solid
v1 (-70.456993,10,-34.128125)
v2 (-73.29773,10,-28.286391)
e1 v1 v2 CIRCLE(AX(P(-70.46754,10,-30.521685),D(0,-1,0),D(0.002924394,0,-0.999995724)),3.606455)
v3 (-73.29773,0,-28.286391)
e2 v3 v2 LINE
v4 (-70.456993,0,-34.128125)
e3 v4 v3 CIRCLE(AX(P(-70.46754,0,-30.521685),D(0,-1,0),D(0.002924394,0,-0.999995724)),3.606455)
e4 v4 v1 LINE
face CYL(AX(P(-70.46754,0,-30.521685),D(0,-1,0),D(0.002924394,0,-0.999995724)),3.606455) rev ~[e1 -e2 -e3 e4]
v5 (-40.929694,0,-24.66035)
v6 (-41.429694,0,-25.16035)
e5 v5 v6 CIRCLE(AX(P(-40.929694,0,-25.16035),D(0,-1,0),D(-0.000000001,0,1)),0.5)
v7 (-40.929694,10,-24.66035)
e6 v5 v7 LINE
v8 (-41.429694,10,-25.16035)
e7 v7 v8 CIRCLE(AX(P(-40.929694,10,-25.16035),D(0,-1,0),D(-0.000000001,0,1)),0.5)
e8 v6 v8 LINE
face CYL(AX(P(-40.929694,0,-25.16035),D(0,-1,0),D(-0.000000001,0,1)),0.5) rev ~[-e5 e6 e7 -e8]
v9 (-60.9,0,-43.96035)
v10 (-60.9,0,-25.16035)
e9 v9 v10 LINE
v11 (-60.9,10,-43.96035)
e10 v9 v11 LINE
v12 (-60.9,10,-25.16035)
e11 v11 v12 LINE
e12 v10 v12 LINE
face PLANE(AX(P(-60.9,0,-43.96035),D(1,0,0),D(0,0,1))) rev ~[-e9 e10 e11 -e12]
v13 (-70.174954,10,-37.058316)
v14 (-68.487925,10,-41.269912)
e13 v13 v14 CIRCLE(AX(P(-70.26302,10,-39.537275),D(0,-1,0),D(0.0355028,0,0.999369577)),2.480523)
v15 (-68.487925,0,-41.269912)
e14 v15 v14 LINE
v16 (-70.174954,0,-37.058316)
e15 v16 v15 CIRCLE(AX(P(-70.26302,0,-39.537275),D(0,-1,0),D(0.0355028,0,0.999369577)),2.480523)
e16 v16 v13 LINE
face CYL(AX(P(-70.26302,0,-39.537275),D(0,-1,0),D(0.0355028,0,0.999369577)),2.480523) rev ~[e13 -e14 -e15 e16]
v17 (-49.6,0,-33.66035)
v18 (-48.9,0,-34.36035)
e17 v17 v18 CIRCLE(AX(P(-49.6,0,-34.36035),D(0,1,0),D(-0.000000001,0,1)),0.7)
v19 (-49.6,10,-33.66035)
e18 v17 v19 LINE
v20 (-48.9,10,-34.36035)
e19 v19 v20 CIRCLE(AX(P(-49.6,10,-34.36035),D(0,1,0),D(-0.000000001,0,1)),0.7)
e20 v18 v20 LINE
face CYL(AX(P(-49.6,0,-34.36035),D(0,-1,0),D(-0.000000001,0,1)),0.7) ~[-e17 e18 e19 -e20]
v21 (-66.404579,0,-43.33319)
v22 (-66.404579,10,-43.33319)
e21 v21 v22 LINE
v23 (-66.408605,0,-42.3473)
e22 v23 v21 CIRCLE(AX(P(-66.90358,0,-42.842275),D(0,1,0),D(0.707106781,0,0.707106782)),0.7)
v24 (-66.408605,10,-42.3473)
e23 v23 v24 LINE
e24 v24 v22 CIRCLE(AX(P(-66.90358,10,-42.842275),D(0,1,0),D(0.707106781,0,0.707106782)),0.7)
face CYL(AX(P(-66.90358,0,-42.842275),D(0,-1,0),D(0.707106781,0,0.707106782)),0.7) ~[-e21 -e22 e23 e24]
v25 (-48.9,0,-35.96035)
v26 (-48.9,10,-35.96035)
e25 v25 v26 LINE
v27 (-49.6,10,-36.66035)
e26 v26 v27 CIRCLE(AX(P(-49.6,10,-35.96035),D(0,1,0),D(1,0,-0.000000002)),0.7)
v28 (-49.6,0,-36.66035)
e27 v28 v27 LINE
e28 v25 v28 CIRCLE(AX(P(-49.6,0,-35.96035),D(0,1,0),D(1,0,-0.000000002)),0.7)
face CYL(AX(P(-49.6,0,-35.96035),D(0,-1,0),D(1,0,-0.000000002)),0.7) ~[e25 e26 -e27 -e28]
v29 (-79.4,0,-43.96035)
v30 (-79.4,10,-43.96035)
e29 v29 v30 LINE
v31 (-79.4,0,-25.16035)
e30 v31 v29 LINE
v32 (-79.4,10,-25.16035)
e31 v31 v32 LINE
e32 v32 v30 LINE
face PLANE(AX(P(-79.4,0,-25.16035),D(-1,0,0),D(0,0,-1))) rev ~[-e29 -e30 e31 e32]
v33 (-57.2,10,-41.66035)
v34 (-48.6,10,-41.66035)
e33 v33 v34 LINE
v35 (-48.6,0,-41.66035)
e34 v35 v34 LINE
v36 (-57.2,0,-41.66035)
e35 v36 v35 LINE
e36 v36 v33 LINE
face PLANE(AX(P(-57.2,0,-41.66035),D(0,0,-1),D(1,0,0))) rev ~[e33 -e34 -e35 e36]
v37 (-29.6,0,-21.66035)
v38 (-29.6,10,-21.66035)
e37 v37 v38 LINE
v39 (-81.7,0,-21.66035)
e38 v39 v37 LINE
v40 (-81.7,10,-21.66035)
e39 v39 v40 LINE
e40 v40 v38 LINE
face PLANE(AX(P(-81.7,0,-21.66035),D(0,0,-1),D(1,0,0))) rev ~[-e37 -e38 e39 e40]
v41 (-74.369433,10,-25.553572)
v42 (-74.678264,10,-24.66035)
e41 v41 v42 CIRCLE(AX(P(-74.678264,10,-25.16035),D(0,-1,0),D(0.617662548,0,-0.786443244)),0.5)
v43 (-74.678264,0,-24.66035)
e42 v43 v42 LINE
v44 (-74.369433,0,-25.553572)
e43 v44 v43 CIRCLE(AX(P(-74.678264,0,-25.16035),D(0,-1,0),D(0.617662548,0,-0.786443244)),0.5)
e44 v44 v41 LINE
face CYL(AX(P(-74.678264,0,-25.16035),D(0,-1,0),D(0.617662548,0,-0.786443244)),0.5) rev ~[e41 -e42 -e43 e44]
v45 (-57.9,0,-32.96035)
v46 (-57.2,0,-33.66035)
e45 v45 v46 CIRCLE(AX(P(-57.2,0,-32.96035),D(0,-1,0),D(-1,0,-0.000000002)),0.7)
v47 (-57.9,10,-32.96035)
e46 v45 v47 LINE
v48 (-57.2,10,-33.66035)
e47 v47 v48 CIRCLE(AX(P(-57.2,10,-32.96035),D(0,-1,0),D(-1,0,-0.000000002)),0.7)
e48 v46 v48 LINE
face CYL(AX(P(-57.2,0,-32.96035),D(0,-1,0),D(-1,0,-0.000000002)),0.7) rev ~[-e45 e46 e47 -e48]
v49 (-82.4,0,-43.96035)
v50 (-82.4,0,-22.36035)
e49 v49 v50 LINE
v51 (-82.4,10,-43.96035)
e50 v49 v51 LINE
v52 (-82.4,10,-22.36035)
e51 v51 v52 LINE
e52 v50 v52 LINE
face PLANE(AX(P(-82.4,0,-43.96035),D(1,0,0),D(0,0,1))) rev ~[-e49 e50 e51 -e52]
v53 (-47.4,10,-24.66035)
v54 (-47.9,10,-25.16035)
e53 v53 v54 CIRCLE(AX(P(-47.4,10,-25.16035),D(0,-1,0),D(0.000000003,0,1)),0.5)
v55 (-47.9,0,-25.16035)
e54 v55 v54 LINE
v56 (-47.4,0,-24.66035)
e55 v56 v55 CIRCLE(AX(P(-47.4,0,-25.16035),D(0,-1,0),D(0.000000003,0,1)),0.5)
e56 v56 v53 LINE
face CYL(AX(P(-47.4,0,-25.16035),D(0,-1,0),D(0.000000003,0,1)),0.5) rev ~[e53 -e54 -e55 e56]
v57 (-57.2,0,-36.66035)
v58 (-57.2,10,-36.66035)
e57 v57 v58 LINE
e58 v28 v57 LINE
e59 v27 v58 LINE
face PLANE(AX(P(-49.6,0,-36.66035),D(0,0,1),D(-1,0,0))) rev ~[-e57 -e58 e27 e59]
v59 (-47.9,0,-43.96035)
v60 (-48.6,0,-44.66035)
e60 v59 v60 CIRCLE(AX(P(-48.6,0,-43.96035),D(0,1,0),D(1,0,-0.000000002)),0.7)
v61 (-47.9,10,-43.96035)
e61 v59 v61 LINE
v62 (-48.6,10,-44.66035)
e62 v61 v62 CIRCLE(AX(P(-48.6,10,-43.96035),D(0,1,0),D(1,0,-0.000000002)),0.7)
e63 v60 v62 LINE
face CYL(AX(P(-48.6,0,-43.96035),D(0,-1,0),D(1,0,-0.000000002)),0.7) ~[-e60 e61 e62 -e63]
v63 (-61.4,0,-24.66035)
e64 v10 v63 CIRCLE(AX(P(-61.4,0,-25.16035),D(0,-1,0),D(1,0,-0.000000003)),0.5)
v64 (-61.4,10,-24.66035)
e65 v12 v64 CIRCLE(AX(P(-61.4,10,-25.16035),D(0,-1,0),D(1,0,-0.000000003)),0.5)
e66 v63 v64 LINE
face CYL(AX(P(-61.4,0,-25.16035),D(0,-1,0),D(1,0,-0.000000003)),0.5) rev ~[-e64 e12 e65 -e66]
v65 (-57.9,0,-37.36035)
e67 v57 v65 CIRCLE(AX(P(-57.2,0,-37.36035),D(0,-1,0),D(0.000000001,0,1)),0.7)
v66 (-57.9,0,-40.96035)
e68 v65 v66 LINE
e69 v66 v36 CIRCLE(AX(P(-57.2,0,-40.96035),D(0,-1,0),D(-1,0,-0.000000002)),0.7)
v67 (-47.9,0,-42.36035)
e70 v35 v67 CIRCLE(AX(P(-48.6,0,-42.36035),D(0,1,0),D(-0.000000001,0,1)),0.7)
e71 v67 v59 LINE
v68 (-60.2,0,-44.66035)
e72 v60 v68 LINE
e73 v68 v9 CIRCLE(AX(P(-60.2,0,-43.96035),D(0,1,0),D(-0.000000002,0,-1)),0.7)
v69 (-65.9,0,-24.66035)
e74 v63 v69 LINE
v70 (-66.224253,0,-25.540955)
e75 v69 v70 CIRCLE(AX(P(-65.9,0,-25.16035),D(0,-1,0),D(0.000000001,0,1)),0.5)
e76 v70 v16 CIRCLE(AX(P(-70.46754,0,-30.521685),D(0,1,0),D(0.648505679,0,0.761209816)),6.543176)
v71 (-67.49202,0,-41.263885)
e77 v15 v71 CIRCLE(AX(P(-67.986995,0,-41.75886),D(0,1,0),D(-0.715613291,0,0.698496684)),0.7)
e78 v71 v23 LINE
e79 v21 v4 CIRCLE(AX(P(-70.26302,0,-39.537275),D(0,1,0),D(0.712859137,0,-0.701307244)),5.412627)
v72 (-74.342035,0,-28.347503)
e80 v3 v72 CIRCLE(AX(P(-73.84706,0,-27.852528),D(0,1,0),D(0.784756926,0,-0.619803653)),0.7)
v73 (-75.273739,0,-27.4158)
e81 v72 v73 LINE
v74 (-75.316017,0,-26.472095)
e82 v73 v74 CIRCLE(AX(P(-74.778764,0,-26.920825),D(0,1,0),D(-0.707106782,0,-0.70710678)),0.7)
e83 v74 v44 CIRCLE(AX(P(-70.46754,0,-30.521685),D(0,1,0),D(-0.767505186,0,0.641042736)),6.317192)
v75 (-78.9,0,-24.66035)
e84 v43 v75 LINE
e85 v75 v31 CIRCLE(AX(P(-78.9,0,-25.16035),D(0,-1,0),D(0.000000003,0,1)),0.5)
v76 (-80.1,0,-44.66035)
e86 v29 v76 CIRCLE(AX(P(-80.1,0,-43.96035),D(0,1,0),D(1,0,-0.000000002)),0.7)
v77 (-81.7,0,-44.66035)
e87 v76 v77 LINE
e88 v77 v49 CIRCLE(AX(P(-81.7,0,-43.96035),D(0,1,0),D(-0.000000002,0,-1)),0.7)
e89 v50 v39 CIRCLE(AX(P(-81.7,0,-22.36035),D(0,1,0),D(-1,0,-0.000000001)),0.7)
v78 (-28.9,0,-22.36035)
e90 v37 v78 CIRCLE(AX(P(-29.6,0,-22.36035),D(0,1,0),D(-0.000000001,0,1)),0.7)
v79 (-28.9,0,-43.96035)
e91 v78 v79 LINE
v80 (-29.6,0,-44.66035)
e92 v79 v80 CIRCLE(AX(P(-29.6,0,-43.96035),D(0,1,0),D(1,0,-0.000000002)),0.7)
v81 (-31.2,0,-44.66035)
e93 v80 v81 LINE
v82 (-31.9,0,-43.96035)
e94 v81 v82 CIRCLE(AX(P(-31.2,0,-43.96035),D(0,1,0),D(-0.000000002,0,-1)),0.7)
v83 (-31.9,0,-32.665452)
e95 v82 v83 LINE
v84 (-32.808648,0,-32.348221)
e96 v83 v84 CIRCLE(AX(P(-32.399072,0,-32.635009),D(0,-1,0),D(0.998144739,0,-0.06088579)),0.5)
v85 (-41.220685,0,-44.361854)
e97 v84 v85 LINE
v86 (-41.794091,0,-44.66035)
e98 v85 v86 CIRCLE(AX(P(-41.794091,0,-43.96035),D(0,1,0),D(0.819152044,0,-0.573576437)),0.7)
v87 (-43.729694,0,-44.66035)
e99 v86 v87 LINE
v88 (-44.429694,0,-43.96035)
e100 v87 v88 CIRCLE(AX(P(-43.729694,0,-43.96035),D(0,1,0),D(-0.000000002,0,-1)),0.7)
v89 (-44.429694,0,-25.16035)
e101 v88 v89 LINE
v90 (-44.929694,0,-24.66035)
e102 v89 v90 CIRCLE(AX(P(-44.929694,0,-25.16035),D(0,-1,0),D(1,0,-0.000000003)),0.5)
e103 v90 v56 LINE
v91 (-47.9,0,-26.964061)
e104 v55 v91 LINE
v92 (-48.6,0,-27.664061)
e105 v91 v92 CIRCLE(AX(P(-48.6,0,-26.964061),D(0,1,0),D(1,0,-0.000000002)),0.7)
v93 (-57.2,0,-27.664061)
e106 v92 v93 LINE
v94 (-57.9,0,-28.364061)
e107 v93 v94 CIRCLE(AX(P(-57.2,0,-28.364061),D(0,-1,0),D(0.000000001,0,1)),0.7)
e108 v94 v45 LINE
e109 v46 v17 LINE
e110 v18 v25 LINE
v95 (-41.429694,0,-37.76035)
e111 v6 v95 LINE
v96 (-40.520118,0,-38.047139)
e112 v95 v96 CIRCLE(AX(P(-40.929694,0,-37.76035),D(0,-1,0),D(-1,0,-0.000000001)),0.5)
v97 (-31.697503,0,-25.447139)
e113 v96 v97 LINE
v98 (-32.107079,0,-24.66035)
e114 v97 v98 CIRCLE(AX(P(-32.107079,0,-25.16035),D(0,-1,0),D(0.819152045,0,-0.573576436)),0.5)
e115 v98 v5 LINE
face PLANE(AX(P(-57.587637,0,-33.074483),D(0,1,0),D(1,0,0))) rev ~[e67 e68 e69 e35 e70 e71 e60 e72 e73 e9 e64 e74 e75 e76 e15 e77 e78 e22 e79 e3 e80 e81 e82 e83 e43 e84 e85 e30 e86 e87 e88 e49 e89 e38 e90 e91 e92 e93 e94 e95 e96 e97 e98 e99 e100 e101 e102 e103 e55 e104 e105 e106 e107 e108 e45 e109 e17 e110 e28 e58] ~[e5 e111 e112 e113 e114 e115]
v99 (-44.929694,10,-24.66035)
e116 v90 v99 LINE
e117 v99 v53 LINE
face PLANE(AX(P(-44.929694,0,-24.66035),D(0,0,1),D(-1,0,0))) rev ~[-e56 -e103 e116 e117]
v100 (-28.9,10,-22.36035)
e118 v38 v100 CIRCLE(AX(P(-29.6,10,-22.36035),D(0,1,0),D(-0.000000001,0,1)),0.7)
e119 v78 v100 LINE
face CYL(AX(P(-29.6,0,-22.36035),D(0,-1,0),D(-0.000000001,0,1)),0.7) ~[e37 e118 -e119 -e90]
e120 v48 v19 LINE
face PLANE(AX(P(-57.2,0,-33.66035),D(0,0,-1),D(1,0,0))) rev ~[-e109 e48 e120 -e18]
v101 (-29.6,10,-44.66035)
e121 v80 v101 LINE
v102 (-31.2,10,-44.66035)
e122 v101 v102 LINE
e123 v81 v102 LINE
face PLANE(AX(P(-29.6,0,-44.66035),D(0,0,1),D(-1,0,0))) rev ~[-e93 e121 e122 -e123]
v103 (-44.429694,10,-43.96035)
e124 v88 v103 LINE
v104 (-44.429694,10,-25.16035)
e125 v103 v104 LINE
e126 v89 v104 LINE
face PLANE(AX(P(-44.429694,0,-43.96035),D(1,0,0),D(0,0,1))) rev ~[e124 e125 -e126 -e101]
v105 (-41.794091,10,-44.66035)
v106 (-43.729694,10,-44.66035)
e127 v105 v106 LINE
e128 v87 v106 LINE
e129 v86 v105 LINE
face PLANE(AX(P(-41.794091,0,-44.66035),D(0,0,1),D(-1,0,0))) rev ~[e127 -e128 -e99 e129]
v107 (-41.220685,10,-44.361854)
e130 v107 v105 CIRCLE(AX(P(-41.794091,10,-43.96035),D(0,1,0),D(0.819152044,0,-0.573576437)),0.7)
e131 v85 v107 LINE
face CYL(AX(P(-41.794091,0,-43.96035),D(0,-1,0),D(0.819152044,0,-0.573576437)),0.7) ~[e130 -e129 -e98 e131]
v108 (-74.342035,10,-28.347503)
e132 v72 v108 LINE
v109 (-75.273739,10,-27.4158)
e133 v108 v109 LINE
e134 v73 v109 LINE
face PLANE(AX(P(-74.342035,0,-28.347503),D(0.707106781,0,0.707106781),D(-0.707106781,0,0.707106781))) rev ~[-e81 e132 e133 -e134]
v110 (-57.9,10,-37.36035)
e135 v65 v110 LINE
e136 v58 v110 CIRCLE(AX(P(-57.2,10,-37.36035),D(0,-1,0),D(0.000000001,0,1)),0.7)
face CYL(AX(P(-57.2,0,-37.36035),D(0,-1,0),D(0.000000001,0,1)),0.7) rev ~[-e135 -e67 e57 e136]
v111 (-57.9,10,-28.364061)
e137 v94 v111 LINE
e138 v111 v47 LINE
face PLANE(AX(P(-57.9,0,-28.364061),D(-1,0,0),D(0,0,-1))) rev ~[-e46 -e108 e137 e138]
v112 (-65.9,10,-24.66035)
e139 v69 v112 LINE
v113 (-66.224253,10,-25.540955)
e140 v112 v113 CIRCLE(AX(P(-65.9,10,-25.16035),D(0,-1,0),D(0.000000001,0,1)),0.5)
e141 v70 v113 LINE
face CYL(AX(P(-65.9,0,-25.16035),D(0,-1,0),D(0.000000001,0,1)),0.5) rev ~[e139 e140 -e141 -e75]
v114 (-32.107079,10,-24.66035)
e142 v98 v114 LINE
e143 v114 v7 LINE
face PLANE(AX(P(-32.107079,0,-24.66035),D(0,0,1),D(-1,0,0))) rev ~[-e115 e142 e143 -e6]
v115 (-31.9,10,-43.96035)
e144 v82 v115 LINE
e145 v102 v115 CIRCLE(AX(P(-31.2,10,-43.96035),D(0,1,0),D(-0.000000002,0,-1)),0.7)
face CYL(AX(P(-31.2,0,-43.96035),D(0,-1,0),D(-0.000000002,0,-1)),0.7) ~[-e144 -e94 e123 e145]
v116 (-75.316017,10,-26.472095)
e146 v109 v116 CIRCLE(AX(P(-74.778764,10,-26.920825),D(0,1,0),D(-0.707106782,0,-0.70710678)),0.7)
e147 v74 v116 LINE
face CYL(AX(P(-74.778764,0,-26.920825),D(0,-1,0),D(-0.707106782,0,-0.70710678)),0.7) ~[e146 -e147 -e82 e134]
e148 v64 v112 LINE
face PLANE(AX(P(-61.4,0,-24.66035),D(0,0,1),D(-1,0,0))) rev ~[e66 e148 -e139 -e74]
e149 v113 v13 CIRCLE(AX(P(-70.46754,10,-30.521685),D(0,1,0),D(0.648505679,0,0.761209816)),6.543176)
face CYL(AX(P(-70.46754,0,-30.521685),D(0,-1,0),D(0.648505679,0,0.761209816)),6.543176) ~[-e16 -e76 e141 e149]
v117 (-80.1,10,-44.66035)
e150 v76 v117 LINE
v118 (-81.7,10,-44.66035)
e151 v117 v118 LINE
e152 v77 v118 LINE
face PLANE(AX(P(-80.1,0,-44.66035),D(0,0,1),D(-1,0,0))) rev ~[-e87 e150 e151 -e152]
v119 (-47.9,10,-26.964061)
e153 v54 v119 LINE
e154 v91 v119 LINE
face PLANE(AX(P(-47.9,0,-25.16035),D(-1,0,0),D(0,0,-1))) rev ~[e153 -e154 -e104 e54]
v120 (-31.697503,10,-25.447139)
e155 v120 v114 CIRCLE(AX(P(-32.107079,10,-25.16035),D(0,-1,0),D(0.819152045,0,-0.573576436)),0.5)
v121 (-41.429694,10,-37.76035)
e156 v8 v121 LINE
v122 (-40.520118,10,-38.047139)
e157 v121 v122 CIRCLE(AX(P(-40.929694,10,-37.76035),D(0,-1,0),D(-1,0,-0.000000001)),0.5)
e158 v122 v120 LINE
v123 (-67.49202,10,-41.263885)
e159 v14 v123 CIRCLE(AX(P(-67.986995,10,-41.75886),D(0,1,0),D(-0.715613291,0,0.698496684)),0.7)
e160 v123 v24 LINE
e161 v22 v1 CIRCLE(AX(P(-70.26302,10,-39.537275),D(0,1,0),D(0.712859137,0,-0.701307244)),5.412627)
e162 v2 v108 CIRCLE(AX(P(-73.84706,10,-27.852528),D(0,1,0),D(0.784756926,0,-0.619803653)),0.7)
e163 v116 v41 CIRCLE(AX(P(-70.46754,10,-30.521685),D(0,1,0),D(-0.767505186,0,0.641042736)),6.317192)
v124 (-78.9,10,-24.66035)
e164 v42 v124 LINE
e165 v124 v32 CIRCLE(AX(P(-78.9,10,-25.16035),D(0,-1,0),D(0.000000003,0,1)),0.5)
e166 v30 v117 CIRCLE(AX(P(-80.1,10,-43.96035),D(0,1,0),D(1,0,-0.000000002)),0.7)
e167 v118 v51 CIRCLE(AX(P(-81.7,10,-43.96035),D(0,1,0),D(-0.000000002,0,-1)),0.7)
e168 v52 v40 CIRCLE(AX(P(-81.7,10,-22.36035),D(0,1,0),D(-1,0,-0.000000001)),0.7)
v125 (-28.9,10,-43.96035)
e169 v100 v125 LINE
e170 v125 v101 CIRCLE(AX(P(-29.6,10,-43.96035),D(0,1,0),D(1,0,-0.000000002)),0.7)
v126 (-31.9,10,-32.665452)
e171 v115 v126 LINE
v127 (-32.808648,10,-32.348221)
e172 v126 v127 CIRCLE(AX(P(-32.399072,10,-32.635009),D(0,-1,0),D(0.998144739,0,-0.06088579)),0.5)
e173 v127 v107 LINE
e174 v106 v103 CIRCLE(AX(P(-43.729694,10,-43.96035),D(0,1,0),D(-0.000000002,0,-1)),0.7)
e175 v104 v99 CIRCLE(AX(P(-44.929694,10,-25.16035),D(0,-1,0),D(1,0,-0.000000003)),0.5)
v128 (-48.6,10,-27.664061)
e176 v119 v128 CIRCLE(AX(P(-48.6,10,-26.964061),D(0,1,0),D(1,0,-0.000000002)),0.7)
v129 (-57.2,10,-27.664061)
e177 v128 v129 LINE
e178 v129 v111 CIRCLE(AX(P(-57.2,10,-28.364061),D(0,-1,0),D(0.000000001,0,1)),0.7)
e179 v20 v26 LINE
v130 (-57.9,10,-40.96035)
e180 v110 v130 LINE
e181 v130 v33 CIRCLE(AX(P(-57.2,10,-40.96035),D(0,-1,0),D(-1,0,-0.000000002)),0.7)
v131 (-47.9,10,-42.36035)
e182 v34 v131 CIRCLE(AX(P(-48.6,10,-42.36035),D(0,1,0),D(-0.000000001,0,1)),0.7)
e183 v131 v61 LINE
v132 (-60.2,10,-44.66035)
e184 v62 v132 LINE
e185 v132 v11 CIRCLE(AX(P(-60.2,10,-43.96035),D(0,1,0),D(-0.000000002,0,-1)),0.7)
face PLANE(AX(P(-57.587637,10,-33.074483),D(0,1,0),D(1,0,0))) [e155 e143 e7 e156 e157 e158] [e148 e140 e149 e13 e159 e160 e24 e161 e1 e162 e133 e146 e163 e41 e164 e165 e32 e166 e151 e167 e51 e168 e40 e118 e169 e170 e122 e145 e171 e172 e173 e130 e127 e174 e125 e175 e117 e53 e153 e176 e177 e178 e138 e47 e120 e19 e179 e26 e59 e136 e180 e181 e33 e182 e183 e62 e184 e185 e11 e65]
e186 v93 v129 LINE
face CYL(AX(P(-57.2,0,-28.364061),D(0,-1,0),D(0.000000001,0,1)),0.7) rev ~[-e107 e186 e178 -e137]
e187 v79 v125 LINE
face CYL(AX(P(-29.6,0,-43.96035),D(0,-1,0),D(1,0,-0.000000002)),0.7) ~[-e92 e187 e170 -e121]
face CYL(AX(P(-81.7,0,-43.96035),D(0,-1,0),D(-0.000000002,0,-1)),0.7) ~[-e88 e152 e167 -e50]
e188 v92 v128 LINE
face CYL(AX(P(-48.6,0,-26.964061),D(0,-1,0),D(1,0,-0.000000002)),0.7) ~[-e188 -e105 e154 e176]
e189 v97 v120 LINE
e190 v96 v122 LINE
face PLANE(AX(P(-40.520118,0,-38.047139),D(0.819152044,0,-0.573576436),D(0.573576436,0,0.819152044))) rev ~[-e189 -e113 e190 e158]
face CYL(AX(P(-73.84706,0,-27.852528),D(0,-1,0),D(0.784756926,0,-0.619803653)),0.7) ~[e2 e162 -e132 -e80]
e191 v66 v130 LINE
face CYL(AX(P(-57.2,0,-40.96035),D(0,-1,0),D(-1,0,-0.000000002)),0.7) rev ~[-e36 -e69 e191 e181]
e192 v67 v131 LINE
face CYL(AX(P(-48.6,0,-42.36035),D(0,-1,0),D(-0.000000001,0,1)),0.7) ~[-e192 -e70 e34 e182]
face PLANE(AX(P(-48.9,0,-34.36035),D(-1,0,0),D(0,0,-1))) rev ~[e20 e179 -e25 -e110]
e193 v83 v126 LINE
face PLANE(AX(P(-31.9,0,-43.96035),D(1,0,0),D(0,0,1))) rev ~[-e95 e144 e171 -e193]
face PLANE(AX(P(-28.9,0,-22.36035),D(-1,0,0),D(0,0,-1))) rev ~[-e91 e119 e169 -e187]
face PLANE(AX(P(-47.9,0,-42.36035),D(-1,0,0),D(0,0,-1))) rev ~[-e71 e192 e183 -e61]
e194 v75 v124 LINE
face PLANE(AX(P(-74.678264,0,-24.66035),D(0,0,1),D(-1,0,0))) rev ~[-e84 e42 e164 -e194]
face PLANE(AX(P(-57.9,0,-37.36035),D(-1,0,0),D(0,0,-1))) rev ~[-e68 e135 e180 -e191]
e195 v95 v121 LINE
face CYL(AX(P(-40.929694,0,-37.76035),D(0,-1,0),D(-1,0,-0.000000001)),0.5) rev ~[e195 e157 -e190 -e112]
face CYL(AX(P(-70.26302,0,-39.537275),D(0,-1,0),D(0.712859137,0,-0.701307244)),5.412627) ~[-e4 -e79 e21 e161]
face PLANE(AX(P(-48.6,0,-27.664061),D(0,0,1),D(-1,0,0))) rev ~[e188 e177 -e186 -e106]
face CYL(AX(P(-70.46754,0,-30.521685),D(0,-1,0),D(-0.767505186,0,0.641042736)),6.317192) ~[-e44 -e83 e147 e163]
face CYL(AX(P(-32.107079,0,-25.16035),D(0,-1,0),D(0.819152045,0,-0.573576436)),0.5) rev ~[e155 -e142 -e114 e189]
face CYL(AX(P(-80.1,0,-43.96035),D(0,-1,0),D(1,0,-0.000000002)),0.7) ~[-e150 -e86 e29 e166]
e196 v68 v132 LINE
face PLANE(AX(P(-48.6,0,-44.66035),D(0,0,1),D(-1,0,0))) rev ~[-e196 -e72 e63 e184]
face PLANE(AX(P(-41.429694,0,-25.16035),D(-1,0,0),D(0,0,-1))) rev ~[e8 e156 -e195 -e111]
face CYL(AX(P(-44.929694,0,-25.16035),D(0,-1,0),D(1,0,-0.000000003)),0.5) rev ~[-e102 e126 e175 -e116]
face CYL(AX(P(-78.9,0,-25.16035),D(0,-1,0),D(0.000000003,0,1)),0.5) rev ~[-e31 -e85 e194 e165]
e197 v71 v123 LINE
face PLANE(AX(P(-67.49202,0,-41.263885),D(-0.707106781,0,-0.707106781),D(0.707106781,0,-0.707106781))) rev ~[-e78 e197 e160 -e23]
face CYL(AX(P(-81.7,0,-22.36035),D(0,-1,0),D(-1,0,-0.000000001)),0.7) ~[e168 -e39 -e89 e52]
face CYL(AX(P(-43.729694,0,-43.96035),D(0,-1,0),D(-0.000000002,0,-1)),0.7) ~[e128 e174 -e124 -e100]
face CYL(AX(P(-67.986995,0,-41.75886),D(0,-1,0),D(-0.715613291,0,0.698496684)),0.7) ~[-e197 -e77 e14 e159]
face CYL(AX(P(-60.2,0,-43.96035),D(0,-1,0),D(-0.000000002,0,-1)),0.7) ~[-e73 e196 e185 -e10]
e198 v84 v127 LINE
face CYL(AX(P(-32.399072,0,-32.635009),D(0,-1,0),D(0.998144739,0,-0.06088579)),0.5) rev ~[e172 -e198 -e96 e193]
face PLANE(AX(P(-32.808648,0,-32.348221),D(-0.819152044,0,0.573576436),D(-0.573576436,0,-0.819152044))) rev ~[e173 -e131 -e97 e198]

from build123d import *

# Parameters (mm, degrees)
BOSS_EXTRU_1_DEPTH = 10


with BuildPart() as part:
    # Esquisse3 → Boss.-Extru.1 (new body)
    with BuildSketch(Plane(origin=(0, 0, 0), x_dir=(1, 0, 0), z_dir=(0, 1, 0))):
        with BuildLine():
            Line((-82.4, 43.960350299), (-82.4, 24.660350299))
            Line((-82.4, 24.660350299), (-82.4, 22.360350299))
            ThreePointArc((-82.4, 22.360350299), (-82.194974747, 21.865375552), (-81.7, 21.660350299))
            Line((-81.7, 21.660350299), (-29.6, 21.660350299))
            ThreePointArc((-29.6, 21.660350299), (-29.105025253, 21.865375552), (-28.9, 22.360350299))
            Line((-28.9, 22.360350299), (-28.9, 24.660350299))
            Line((-28.9, 24.660350299), (-28.9, 43.960350299))
            ThreePointArc((-28.9, 43.960350299), (-29.105025253, 44.455325045), (-29.6, 44.660350299))
            Line((-29.6, 44.660350299), (-31.2, 44.660350299))
            ThreePointArc((-31.2, 44.660350299), (-31.694974747, 44.455325045), (-31.9, 43.960350299))
            Line((-31.9, 43.960350299), (-31.9, 32.665451753))
            ThreePointArc((-31.9, 32.665451753), (-32.234265531, 32.16295091), (-32.808648392, 32.348220639))
            Line((-32.808648392, 32.348220639), (-41.220684895, 44.361853804))
            ThreePointArc((-41.220684895, 44.361853804), (-41.470867297, 44.581257882), (-41.794091326, 44.660350299))
            Line((-41.794091326, 44.660350299), (-43.729694391, 44.660350299))
            ThreePointArc((-43.729694391, 44.660350299), (-44.224669138, 44.455325045), (-44.429694391, 43.960350299))
            Line((-44.429694391, 43.960350299), (-44.429694391, 25.160350299))
            ThreePointArc((-44.429694391, 25.160350299), (-44.576141, 24.806796908), (-44.929694391, 24.660350299))
            Line((-44.929694391, 24.660350299), (-47.4, 24.660350299))
            ThreePointArc((-47.4, 24.660350299), (-47.753553391, 24.806796908), (-47.9, 25.160350299))
            Line((-47.9, 25.160350299), (-47.9, 26.96406145))
            ThreePointArc((-47.9, 26.96406145), (-48.105025253, 27.459036196), (-48.6, 27.66406145))
            Line((-48.6, 27.66406145), (-57.2, 27.66406145))
            ThreePointArc((-57.2, 27.66406145), (-57.694974747, 27.869086703), (-57.9, 28.36406145))
            Line((-57.9, 28.36406145), (-57.9, 32.960350299))
            ThreePointArc((-57.9, 32.960350299), (-57.694974747, 33.455325045), (-57.2, 33.660350299))
            Line((-57.2, 33.660350299), (-49.6, 33.660350299))
            ThreePointArc((-49.6, 33.660350299), (-49.105025253, 33.865375552), (-48.9, 34.360350299))
            Line((-48.9, 34.360350299), (-48.9, 35.960350299))
            ThreePointArc((-48.9, 35.960350299), (-49.105025253, 36.455325045), (-49.6, 36.660350299))
            Line((-49.6, 36.660350299), (-57.2, 36.660350299))
            ThreePointArc((-57.2, 36.660350299), (-57.694974747, 36.865375552), (-57.9, 37.360350299))
            Line((-57.9, 37.360350299), (-57.9, 40.960350299))
            ThreePointArc((-57.9, 40.960350299), (-57.694974747, 41.455325045), (-57.2, 41.660350299))
            Line((-57.2, 41.660350299), (-48.6, 41.660350299))
            ThreePointArc((-48.6, 41.660350299), (-48.105025253, 41.865375552), (-47.9, 42.360350299))
            Line((-47.9, 42.360350299), (-47.9, 43.960350299))
            ThreePointArc((-47.9, 43.960350299), (-48.105025253, 44.455325045), (-48.6, 44.660350299))
            Line((-48.6, 44.660350299), (-60.2, 44.660350299))
            ThreePointArc((-60.2, 44.660350299), (-60.694974747, 44.455325045), (-60.9, 43.960350299))
            Line((-60.9, 43.960350299), (-60.9, 25.160350299))
            ThreePointArc((-60.9, 25.160350299), (-61.046446609, 24.806796908), (-61.4, 24.660350299))
            Line((-61.4, 24.660350299), (-65.9, 24.660350299))
            ThreePointArc((-65.9, 24.660350299), (-66.369202757, 24.987582324), (-66.224252839, 25.540955207))
            ThreePointArc((-66.224252839, 25.540955207), (-64.278360769, 32.64470583), (-70.174954097, 37.058316142))
            ThreePointArc((-70.174954097, 37.058316142), (-72.565676109, 40.459645131), (-68.487924516, 41.269912109))
            ThreePointArc((-68.487924516, 41.269912109), (-67.991231434, 41.058872606), (-67.492020465, 41.26388504))
            Line((-67.492020465, 41.26388504), (-66.408605494, 42.347300011))
            ThreePointArc((-66.408605494, 42.347300011), (-66.203586079, 42.839415787), (-66.404578845, 43.333189829))
            ThreePointArc((-66.404578845, 43.333189829), (-75.216844977, 41.718134484), (-70.456992958, 34.128124806))
            ThreePointArc((-70.456992958, 34.128124806), (-67.224229351, 28.944517523), (-73.29773035, 28.286390935))
            ThreePointArc((-73.29773035, 28.286390935), (-73.806166505, 28.551332862), (-74.342034946, 28.347503126))
            Line((-74.342034946, 28.347503126), (-75.273738539, 27.415799533))
            ThreePointArc((-75.273738539, 27.415799533), (-75.478062353, 26.95215404), (-75.316017422, 26.472094871))
            ThreePointArc((-75.316017422, 26.472094871), (-74.866763267, 25.988060793), (-74.369432688, 25.55357192))
            ThreePointArc((-74.369432688, 25.55357192), (-74.205711949, 24.996965493), (-74.678263963, 24.660350299))
            Line((-74.678263963, 24.660350299), (-78.9, 24.660350299))
            ThreePointArc((-78.9, 24.660350299), (-79.253553391, 24.806796908), (-79.4, 25.160350299))
            Line((-79.4, 25.160350299), (-79.4, 43.960350299))
            ThreePointArc((-79.4, 43.960350299), (-79.605025253, 44.455325045), (-80.1, 44.660350299))
            Line((-80.1, 44.660350299), (-81.7, 44.660350299))
            ThreePointArc((-81.7, 44.660350299), (-82.194974747, 44.455325045), (-82.4, 43.960350299))
        make_face()
        with BuildLine():
            Line((-41.429694391, 25.160350299), (-41.429694391, 37.760350299))
            ThreePointArc((-41.429694391, 37.760350299), (-41.08004729, 38.237208774), (-40.520118369, 38.047138517))
            Line((-40.520118369, 38.047138517), (-31.697503387, 25.447138517))
            ThreePointArc((-31.697503387, 25.447138517), (-31.663573993, 24.929475992), (-32.107079409, 24.660350299))
            Line((-32.107079409, 24.660350299), (-40.929694391, 24.660350299))
            ThreePointArc((-40.929694391, 24.660350299), (-41.283247781, 24.806796908), (-41.429694391, 25.160350299))
        make_face(mode=Mode.SUBTRACT)
    extrude(amount=BOSS_EXTRU_1_DEPTH)


solid = part.part
